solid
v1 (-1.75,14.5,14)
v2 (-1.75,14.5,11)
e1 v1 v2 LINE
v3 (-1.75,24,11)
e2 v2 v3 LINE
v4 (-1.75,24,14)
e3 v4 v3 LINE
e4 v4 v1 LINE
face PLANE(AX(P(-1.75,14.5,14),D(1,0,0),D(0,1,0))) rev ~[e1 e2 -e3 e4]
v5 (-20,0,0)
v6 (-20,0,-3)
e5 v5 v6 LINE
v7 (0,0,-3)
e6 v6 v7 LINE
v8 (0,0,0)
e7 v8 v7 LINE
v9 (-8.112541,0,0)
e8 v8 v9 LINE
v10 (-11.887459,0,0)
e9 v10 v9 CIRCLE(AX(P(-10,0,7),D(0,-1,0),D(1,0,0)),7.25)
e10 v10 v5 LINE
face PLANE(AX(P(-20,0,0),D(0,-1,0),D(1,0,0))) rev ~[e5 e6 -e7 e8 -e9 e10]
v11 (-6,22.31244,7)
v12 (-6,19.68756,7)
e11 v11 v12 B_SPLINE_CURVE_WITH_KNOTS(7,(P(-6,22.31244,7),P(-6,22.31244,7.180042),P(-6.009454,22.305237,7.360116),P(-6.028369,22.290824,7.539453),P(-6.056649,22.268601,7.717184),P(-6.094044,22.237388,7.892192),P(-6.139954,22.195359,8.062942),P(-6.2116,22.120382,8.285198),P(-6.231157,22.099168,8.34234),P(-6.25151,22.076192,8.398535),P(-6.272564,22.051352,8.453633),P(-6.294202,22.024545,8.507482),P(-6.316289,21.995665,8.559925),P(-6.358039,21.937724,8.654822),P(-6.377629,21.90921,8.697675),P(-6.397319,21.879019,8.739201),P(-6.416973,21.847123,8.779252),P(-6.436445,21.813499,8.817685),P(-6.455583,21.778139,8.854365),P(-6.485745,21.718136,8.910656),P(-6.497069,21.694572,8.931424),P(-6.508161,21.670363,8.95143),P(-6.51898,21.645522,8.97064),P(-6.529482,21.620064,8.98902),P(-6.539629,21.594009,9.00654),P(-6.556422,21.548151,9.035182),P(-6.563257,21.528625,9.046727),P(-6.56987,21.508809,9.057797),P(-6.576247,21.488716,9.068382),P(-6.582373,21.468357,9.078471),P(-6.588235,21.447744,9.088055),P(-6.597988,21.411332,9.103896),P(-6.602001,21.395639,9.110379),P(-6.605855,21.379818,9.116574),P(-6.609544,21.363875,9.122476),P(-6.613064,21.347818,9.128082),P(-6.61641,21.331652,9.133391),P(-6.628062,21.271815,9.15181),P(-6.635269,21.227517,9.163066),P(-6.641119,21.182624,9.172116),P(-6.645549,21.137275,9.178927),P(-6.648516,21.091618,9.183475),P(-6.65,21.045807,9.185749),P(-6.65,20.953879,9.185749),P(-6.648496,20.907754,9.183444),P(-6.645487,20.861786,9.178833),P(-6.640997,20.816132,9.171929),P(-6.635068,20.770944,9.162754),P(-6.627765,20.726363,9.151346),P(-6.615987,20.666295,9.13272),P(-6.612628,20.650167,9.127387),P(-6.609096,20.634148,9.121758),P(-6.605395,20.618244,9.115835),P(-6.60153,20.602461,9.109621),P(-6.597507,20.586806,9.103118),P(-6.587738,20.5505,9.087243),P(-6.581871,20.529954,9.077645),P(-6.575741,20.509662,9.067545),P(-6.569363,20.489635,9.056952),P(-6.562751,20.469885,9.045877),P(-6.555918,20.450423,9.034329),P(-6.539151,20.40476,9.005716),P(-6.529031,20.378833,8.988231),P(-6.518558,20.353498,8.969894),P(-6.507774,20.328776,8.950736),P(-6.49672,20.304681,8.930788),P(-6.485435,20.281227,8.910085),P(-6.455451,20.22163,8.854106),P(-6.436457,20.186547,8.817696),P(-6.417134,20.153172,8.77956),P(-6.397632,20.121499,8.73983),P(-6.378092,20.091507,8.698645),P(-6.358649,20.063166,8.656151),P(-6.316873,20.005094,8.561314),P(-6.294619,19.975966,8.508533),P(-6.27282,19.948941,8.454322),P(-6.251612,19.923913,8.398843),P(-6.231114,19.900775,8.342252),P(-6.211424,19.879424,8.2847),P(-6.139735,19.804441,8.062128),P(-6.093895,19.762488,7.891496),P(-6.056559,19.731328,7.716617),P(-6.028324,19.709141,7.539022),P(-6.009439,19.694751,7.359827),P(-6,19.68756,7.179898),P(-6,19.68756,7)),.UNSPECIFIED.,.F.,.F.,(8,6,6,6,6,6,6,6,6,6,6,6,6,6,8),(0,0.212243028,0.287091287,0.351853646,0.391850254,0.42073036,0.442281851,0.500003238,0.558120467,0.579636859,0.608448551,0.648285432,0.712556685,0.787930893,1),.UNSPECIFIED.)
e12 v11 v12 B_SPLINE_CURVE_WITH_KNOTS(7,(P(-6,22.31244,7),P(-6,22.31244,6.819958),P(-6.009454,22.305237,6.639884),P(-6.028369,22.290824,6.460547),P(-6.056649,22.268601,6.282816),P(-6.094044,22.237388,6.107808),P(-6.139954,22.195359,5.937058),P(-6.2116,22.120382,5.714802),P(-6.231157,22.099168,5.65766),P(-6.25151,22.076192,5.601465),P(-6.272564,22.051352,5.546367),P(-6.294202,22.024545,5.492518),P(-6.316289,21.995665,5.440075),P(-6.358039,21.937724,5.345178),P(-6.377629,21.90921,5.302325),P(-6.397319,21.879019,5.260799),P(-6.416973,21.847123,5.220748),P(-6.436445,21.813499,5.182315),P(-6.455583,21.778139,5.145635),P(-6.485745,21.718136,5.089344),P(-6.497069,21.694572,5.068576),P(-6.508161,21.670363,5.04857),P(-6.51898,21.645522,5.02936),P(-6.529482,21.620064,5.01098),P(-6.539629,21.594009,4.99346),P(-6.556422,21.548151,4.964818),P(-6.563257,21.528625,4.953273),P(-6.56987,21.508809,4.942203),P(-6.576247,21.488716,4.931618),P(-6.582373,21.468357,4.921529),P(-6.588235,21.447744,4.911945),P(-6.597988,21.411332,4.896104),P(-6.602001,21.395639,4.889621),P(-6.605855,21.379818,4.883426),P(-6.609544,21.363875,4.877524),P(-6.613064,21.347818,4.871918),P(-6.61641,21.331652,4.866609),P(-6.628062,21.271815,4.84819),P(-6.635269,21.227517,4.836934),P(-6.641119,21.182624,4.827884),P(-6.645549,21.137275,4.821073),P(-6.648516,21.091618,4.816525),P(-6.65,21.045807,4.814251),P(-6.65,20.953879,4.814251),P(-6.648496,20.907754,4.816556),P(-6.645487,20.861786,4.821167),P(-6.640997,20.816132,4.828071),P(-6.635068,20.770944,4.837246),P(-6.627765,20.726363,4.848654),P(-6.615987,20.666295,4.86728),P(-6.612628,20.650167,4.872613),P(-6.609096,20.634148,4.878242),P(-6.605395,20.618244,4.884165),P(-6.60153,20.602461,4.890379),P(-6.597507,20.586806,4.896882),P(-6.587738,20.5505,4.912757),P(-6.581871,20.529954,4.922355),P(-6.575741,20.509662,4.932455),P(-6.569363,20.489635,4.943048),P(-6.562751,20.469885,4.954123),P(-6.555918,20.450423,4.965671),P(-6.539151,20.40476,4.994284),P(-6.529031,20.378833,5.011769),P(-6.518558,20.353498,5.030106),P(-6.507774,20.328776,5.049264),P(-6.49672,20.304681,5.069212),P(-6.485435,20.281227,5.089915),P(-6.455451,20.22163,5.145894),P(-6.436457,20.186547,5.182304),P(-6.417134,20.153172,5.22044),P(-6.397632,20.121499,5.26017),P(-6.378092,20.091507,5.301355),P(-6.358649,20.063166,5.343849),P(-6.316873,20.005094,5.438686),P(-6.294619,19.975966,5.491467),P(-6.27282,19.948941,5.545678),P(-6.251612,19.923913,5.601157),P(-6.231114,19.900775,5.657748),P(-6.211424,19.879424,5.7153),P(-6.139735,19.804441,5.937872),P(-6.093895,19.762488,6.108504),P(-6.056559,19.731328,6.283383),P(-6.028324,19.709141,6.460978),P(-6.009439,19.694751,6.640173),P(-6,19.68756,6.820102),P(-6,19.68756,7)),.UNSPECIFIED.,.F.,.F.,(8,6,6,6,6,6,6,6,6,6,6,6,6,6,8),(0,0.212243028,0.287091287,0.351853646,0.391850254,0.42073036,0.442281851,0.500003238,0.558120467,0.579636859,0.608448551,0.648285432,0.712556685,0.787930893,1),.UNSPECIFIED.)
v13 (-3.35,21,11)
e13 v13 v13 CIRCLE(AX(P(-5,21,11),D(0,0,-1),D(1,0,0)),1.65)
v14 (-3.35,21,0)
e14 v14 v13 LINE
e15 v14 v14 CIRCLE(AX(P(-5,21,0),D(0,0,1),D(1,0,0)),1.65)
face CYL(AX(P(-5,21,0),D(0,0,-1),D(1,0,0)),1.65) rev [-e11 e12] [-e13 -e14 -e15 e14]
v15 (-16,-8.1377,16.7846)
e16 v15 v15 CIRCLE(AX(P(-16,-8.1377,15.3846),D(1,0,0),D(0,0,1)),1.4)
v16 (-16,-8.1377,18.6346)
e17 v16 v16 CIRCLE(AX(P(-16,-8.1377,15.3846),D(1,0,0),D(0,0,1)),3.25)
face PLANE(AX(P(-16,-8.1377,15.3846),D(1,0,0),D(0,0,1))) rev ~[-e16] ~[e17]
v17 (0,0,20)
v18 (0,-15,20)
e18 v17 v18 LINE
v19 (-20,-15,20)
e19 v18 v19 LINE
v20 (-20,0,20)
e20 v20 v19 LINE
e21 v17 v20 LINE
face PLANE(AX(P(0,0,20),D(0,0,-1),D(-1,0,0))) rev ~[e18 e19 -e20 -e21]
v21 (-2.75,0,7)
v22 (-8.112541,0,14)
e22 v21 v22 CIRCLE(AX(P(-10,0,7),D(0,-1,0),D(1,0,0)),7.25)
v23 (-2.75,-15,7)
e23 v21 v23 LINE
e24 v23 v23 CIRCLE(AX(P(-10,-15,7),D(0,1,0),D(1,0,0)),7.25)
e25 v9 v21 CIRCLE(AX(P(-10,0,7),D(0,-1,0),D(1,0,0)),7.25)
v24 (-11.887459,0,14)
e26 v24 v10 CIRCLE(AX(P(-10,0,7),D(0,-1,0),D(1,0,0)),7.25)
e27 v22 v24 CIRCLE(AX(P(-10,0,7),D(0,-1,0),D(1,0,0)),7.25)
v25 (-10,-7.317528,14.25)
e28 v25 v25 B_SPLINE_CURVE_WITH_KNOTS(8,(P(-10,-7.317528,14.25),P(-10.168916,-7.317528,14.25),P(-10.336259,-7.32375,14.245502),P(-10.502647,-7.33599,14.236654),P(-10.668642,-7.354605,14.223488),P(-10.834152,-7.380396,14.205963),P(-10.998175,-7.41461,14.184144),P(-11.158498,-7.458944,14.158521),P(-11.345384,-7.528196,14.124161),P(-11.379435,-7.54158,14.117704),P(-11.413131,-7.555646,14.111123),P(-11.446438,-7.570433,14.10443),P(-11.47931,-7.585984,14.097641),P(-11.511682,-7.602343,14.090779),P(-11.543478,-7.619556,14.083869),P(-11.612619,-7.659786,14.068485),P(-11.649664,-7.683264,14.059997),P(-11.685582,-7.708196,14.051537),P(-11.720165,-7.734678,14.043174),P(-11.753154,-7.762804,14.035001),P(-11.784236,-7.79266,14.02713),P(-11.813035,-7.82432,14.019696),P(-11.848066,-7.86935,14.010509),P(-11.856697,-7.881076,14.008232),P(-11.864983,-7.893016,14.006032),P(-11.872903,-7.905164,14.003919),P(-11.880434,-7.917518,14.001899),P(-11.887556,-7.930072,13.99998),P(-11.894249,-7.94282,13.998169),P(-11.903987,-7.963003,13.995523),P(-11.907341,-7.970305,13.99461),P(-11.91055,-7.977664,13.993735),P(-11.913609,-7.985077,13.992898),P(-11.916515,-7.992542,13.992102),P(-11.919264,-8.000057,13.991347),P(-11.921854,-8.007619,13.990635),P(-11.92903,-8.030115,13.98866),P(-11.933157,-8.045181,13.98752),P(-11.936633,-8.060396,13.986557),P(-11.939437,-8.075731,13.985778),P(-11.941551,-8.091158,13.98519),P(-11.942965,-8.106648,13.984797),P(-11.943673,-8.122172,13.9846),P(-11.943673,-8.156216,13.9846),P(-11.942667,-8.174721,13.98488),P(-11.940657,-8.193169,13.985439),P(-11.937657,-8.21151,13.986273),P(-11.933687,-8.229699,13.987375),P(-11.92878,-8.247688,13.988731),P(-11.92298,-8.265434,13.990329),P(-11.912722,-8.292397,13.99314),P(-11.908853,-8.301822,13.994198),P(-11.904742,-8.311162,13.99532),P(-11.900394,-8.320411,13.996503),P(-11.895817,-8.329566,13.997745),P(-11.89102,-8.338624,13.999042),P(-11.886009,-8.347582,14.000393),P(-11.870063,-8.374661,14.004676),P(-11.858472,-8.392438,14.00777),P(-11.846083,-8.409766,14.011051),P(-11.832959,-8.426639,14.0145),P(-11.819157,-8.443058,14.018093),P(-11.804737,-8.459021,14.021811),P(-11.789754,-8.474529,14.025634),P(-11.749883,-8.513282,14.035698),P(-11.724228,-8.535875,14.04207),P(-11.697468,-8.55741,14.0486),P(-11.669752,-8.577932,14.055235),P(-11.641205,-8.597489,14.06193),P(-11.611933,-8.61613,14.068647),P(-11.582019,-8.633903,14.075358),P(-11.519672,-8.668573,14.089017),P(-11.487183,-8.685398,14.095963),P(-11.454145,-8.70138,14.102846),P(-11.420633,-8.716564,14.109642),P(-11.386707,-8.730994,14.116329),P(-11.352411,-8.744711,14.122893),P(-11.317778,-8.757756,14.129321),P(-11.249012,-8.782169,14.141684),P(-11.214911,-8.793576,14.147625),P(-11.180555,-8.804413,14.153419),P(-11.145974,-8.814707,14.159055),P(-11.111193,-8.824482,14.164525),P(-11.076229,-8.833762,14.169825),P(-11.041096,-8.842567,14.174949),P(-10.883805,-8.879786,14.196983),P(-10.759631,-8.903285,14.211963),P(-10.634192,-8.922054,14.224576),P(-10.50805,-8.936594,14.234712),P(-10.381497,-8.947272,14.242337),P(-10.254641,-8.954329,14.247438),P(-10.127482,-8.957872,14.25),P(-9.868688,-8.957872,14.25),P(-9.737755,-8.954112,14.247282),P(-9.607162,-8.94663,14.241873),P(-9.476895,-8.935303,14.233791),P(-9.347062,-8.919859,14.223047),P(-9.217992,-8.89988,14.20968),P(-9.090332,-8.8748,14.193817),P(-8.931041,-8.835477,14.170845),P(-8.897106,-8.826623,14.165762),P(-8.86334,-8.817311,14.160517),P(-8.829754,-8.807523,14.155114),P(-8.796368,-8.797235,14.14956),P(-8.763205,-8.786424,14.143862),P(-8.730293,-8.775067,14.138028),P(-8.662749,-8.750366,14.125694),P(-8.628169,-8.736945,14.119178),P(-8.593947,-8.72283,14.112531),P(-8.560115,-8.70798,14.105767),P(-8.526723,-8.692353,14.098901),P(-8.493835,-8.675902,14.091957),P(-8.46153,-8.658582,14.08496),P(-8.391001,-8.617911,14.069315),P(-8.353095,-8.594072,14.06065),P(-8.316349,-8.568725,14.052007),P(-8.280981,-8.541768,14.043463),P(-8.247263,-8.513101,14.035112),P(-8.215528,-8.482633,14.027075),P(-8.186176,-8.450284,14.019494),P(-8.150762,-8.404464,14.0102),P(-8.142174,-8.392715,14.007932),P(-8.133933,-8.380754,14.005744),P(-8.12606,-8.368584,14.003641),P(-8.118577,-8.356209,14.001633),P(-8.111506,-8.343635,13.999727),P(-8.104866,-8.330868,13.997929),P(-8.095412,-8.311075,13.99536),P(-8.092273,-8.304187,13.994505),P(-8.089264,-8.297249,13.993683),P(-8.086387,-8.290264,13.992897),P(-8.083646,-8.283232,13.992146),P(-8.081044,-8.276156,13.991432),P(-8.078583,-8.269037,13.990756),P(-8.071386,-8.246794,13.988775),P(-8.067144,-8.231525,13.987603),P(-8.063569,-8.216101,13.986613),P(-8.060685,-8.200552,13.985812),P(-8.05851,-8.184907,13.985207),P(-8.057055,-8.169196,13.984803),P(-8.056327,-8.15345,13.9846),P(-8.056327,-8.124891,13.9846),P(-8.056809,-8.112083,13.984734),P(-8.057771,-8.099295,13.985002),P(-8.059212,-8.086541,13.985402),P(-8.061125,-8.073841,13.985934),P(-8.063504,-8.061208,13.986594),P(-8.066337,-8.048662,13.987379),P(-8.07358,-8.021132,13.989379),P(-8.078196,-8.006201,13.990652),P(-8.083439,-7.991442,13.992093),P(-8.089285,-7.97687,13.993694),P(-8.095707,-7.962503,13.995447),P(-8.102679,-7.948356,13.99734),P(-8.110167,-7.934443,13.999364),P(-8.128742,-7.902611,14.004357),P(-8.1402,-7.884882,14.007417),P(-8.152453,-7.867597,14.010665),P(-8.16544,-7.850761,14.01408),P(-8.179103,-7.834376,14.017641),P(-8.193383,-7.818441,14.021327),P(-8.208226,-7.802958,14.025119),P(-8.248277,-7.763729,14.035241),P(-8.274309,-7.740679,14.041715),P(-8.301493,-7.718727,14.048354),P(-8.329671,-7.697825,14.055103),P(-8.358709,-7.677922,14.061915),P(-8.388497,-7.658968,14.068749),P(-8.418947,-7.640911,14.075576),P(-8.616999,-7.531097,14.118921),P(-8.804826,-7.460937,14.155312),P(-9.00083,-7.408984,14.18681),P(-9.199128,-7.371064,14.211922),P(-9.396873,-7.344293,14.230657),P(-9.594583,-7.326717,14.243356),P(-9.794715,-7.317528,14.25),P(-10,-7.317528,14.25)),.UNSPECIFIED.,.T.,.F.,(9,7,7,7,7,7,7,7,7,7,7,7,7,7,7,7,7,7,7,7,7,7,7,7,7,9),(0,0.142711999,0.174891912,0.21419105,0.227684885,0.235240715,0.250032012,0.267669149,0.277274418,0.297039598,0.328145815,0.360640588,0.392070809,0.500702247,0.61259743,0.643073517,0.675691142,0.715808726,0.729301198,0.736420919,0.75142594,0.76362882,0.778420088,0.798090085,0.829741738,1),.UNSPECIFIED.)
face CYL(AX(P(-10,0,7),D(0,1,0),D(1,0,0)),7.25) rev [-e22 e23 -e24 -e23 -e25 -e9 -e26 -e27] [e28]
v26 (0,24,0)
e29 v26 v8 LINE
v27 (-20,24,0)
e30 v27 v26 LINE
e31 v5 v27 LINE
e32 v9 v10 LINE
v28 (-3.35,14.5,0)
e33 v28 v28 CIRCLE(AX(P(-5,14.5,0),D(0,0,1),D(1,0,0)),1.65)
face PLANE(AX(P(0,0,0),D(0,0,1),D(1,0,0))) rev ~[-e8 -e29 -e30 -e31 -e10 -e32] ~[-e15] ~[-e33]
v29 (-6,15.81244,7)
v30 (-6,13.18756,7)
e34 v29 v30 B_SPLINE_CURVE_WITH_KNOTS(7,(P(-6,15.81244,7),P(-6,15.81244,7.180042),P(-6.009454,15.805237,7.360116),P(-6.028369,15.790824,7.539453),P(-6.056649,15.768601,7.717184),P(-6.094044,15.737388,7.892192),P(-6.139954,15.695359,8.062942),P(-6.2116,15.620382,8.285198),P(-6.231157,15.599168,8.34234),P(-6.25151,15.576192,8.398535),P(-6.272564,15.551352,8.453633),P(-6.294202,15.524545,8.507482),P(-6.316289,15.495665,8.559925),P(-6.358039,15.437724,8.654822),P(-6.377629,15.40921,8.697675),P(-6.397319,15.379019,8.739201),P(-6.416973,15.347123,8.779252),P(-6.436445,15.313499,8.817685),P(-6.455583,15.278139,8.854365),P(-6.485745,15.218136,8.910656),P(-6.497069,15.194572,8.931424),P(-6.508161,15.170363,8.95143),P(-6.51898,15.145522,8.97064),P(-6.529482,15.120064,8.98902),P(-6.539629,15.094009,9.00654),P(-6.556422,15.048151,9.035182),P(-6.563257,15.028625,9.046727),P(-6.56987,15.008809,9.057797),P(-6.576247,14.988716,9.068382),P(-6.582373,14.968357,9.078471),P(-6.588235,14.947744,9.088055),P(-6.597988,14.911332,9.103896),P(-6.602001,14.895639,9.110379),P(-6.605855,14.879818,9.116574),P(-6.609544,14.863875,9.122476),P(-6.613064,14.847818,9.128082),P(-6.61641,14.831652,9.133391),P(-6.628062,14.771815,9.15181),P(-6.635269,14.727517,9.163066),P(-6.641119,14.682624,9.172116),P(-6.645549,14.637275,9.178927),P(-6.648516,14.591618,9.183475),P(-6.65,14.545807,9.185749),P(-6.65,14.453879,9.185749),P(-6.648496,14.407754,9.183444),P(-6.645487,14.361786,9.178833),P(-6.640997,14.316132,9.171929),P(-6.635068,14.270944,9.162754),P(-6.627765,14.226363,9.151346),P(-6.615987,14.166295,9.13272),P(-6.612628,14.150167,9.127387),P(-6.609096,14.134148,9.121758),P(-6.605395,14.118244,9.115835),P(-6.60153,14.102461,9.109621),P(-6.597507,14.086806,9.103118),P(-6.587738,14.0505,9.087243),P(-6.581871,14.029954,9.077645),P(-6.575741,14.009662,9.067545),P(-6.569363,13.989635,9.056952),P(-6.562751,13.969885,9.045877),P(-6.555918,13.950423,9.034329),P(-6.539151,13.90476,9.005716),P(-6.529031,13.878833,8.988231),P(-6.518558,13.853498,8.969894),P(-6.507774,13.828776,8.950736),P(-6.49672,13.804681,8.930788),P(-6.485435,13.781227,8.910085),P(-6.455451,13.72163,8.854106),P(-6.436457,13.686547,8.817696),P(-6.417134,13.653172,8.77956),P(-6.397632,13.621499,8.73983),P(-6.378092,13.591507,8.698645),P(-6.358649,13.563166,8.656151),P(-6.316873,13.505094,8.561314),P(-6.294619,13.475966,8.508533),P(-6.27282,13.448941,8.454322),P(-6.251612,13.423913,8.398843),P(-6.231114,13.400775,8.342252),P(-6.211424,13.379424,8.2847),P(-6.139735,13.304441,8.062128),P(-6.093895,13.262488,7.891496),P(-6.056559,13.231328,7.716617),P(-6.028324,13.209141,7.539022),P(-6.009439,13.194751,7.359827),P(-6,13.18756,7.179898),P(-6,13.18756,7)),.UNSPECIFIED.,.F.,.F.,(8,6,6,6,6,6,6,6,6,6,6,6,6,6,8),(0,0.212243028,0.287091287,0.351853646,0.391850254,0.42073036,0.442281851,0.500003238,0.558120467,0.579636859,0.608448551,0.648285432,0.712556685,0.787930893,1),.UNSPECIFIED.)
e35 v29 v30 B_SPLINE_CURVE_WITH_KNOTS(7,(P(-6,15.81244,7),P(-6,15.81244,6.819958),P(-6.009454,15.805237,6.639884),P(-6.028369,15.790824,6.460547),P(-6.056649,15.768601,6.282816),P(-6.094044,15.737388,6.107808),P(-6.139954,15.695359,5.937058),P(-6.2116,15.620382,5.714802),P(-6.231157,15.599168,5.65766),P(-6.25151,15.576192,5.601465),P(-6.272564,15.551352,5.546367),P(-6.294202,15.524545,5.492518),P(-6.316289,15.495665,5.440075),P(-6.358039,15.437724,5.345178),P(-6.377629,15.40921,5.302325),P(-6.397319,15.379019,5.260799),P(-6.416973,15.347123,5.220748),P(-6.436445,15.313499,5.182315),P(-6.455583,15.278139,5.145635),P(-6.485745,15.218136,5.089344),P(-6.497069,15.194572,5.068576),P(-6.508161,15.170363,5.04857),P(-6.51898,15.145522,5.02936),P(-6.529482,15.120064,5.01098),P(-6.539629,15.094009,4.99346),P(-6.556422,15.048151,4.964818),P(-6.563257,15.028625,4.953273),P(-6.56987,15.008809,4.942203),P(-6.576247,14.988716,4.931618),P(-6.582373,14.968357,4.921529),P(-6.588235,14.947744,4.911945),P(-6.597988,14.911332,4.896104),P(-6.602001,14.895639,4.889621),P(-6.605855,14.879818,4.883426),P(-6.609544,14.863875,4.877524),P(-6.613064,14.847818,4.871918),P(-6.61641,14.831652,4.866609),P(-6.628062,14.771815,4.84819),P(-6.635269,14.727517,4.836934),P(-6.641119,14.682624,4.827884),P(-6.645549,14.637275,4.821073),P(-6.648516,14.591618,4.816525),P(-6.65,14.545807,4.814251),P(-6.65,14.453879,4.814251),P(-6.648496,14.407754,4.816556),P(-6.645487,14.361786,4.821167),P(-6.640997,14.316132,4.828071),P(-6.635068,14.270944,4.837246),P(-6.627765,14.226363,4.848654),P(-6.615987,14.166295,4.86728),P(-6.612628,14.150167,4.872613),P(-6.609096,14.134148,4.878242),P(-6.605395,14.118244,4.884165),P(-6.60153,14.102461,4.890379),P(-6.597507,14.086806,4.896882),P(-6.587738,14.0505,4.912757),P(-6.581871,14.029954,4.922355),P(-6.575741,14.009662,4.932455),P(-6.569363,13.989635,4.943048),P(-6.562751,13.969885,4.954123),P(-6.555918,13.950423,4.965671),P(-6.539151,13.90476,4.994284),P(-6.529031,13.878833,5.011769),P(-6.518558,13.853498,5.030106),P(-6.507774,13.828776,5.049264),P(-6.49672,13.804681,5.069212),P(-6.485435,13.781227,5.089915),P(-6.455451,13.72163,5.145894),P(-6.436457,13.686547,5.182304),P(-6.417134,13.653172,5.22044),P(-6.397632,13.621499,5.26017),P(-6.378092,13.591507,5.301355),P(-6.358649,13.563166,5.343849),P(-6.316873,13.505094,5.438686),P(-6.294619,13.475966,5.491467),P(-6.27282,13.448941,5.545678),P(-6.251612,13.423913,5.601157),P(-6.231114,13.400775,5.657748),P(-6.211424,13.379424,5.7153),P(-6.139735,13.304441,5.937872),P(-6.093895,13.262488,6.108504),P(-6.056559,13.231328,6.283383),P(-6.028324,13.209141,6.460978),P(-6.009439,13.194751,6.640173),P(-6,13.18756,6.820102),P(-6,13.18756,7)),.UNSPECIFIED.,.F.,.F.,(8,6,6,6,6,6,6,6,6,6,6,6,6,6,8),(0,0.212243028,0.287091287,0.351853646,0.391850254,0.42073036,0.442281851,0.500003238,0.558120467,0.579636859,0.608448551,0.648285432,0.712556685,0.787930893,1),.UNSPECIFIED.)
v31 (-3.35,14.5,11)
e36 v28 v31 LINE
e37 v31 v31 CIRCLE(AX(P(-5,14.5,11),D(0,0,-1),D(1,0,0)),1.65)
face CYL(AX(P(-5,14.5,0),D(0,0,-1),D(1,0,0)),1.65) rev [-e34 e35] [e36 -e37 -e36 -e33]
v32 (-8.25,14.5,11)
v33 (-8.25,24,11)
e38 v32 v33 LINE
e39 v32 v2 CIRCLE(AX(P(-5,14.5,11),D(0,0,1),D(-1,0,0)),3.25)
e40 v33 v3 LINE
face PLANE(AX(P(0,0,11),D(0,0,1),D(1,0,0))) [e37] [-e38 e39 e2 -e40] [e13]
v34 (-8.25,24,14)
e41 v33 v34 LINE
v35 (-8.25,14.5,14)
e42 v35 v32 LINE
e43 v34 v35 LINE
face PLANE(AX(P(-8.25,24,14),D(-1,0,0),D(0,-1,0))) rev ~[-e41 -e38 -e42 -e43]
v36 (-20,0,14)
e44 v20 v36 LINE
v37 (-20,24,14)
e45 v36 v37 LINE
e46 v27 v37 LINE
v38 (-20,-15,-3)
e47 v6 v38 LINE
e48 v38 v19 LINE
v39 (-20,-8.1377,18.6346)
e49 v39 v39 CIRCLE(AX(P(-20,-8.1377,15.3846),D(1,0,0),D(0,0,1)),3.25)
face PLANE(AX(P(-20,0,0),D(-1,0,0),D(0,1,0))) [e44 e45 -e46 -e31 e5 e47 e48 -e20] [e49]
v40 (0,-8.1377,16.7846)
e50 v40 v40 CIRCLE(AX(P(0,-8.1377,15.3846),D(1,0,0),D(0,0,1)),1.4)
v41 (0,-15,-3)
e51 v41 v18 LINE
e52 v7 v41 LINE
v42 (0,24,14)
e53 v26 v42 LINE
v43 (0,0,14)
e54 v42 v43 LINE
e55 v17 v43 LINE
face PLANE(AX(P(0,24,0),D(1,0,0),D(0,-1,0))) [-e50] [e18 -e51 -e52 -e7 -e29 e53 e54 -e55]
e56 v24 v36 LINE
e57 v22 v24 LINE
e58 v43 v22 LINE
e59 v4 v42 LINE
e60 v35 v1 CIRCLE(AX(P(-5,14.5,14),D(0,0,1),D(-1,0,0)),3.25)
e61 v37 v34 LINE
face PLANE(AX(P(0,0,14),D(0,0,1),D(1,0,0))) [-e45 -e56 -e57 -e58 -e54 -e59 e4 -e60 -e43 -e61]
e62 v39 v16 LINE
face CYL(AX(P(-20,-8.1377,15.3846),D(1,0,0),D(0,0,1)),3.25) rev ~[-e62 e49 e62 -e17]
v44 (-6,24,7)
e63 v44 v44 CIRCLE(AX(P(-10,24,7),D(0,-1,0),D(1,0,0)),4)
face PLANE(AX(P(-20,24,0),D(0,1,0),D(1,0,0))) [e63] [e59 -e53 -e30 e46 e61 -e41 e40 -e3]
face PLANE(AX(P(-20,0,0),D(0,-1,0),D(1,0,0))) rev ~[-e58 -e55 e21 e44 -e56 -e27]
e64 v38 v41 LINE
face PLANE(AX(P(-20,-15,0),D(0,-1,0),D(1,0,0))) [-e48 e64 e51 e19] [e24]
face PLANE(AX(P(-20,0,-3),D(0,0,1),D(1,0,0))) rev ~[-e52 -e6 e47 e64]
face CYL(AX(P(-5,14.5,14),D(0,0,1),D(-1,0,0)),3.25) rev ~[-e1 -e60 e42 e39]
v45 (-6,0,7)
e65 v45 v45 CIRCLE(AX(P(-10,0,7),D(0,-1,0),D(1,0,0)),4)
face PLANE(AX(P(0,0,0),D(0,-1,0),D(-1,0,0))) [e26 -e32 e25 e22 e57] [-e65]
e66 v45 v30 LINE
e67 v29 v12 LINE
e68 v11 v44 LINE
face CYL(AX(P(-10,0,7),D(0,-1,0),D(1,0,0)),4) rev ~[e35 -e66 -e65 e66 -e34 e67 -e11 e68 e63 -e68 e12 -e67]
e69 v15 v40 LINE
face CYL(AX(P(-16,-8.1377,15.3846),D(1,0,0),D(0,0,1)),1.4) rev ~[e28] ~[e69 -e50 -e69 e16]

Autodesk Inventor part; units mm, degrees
ref_plane "YZ Plane" through (0, 0, 0) normal (1, 0, 0) x (0, 1, 0)
ref_plane "XZ Plane" through (0, 0, 0) normal (0, 1, 0) x (-1, 0, 0)
ref_plane "XY Plane" through (0, 0, 0) normal (0, 0, 1) x (1, 0, 0)
sketch "Skizze6" plane through (0, 0, 0) normal (0, 0, 1) x (1, 0, 0)
  line L0 (0, 0) -> (-20, 0)
  line L1 (-20, 0) -> (-20, 24)
  line L2 (-20, 24) -> (0, 24)
  line L3 (0, 24) -> (0, 0)
  circle A0 centre (-5, 21) radius 1.65
  circle A1 centre (-5, 14.5) radius 1.65
  dimension "d29" = 20
  dimension "d30" = 24
  dimension "d31" = 3.3
  dimension "d32" = 3.3
  dimension "d33" = 3
  dimension "d34" = 6.5
  dimension "d35" = 5
extrude "Extrusion5" add sketch "Skizze6" along normal blind 14
sketch "Skizze7" plane through (-20, 0, 0) normal (0, -1, 0) x (1, 0, 0)
  line L0 (0, 0) -> (20, 0) projected
  line L1 (20, 0) -> (20, 14) projected
  line L2 (0, 14) -> (20, 14) projected
  line L3 (0, 0) -> (0, 14) projected
  circle A0 centre (10, 7) radius 4
  dimension "d38" = 8
  dimension "d39" = 10
extrude "Extrusion6" cut sketch "Skizze7" against normal through all contours A0
sketch "Skizze8" plane through (0, 0, 14) normal (0, 0, 1) x (1, 0, 0)
  line L0 (0, 24) -> (-20, 24) projected
  line L1 (-20, 24) -> (-20, 0) projected
  line L2 (-20, 0) -> (0, 0) projected
  line L3 (0, 0) -> (0, 24) projected
  circle A0 centre (-5, 14.5) radius 1.65 projected
  circle A1 centre (-5, 21) radius 1.65 projected
  line L4 (-5, 14.5) -> (-5, 31.6413) construction
  line L5 (-1.75, 14.5) -> (-1.75, 31.6413)
  line L6 (-8.25, 31.6413) -> (-8.25, 14.5)
  arc A2 (-8.25, 14.5) -> (-1.75, 14.5) centre (-5, 14.5) ccw
  arc A3 (-1.75, 31.6413) -> (-8.25, 31.6413) centre (-5, 31.6413) ccw
  point P0 (-5, 23.0707)
  dimension "d42" = 6.5
extrude "Extrusion7" cut sketch "Skizze8" against normal blind 3 contours L5 A2 L6 L0 | L0 L6 A3 L5 | A0 | A1
sketch "Skizze9" plane through (-20, 0, 0) normal (0, -1, 0) x (1, 0, 0)
  circle A0 centre (10, 7) radius 4 projected
  line L0 (0, 0) -> (20, 0) projected
  line L1 (20, 0) -> (20, 14) projected
  line L2 (0, 14) -> (20, 14) projected
  line L3 (0, 0) -> (0, 14) projected
  circle A1 centre (10, 7) radius 7.25
  line L4 (20, 17) -> (0, 17)
  line L5 (0, 17) -> (0, -3)
  line L6 (0, -3) -> (20, -3)
  line L7 (20, -3) -> (20, 17)
  line L8 (20, 17) -> (0, -3) construction
  line L9 (0, 17) -> (20, -3) construction
  line L10 (0, 17) -> (20, 17)
  line L11 (20, 17) -> (20, 20)
  line L12 (20, 20) -> (0, 20)
  line L13 (0, 20) -> (0, 17)
  dimension "d45" = 14.5
  dimension "d46" = 20
  dimension "d47" = 20
  dimension "d50" = 3
extrude "Extrusion8" add sketch "Skizze9" along normal blind 15 contours L3 L2 A1 L0 | L0 A1 L7 L6 L5 | L5 L4 L7 L2 A1 | A1 L2 L1 L0 | L13 L12 L11 L4
sketch "Skizze10" plane through (-20, 24, 0) normal (-1, 0, 0) x (0, 0, 1)
  line L0 (14.25, -39) -> (14.25, -24) projected
  circle A0 centre (15.3846, -32.1377) radius 1.4
  point P0 (0, -24)
  dimension "d51" = 2.8
hole "Bohrung2" at (-20, -8.1377, 15.3846) direction (1, 0, 0) diameter 2.8 end through all counterbore diameter 6.5 counterbore depth 4
properties part number "40_XYZstage_micrometer_motorized_nema8_nanotec_adapter_z"
